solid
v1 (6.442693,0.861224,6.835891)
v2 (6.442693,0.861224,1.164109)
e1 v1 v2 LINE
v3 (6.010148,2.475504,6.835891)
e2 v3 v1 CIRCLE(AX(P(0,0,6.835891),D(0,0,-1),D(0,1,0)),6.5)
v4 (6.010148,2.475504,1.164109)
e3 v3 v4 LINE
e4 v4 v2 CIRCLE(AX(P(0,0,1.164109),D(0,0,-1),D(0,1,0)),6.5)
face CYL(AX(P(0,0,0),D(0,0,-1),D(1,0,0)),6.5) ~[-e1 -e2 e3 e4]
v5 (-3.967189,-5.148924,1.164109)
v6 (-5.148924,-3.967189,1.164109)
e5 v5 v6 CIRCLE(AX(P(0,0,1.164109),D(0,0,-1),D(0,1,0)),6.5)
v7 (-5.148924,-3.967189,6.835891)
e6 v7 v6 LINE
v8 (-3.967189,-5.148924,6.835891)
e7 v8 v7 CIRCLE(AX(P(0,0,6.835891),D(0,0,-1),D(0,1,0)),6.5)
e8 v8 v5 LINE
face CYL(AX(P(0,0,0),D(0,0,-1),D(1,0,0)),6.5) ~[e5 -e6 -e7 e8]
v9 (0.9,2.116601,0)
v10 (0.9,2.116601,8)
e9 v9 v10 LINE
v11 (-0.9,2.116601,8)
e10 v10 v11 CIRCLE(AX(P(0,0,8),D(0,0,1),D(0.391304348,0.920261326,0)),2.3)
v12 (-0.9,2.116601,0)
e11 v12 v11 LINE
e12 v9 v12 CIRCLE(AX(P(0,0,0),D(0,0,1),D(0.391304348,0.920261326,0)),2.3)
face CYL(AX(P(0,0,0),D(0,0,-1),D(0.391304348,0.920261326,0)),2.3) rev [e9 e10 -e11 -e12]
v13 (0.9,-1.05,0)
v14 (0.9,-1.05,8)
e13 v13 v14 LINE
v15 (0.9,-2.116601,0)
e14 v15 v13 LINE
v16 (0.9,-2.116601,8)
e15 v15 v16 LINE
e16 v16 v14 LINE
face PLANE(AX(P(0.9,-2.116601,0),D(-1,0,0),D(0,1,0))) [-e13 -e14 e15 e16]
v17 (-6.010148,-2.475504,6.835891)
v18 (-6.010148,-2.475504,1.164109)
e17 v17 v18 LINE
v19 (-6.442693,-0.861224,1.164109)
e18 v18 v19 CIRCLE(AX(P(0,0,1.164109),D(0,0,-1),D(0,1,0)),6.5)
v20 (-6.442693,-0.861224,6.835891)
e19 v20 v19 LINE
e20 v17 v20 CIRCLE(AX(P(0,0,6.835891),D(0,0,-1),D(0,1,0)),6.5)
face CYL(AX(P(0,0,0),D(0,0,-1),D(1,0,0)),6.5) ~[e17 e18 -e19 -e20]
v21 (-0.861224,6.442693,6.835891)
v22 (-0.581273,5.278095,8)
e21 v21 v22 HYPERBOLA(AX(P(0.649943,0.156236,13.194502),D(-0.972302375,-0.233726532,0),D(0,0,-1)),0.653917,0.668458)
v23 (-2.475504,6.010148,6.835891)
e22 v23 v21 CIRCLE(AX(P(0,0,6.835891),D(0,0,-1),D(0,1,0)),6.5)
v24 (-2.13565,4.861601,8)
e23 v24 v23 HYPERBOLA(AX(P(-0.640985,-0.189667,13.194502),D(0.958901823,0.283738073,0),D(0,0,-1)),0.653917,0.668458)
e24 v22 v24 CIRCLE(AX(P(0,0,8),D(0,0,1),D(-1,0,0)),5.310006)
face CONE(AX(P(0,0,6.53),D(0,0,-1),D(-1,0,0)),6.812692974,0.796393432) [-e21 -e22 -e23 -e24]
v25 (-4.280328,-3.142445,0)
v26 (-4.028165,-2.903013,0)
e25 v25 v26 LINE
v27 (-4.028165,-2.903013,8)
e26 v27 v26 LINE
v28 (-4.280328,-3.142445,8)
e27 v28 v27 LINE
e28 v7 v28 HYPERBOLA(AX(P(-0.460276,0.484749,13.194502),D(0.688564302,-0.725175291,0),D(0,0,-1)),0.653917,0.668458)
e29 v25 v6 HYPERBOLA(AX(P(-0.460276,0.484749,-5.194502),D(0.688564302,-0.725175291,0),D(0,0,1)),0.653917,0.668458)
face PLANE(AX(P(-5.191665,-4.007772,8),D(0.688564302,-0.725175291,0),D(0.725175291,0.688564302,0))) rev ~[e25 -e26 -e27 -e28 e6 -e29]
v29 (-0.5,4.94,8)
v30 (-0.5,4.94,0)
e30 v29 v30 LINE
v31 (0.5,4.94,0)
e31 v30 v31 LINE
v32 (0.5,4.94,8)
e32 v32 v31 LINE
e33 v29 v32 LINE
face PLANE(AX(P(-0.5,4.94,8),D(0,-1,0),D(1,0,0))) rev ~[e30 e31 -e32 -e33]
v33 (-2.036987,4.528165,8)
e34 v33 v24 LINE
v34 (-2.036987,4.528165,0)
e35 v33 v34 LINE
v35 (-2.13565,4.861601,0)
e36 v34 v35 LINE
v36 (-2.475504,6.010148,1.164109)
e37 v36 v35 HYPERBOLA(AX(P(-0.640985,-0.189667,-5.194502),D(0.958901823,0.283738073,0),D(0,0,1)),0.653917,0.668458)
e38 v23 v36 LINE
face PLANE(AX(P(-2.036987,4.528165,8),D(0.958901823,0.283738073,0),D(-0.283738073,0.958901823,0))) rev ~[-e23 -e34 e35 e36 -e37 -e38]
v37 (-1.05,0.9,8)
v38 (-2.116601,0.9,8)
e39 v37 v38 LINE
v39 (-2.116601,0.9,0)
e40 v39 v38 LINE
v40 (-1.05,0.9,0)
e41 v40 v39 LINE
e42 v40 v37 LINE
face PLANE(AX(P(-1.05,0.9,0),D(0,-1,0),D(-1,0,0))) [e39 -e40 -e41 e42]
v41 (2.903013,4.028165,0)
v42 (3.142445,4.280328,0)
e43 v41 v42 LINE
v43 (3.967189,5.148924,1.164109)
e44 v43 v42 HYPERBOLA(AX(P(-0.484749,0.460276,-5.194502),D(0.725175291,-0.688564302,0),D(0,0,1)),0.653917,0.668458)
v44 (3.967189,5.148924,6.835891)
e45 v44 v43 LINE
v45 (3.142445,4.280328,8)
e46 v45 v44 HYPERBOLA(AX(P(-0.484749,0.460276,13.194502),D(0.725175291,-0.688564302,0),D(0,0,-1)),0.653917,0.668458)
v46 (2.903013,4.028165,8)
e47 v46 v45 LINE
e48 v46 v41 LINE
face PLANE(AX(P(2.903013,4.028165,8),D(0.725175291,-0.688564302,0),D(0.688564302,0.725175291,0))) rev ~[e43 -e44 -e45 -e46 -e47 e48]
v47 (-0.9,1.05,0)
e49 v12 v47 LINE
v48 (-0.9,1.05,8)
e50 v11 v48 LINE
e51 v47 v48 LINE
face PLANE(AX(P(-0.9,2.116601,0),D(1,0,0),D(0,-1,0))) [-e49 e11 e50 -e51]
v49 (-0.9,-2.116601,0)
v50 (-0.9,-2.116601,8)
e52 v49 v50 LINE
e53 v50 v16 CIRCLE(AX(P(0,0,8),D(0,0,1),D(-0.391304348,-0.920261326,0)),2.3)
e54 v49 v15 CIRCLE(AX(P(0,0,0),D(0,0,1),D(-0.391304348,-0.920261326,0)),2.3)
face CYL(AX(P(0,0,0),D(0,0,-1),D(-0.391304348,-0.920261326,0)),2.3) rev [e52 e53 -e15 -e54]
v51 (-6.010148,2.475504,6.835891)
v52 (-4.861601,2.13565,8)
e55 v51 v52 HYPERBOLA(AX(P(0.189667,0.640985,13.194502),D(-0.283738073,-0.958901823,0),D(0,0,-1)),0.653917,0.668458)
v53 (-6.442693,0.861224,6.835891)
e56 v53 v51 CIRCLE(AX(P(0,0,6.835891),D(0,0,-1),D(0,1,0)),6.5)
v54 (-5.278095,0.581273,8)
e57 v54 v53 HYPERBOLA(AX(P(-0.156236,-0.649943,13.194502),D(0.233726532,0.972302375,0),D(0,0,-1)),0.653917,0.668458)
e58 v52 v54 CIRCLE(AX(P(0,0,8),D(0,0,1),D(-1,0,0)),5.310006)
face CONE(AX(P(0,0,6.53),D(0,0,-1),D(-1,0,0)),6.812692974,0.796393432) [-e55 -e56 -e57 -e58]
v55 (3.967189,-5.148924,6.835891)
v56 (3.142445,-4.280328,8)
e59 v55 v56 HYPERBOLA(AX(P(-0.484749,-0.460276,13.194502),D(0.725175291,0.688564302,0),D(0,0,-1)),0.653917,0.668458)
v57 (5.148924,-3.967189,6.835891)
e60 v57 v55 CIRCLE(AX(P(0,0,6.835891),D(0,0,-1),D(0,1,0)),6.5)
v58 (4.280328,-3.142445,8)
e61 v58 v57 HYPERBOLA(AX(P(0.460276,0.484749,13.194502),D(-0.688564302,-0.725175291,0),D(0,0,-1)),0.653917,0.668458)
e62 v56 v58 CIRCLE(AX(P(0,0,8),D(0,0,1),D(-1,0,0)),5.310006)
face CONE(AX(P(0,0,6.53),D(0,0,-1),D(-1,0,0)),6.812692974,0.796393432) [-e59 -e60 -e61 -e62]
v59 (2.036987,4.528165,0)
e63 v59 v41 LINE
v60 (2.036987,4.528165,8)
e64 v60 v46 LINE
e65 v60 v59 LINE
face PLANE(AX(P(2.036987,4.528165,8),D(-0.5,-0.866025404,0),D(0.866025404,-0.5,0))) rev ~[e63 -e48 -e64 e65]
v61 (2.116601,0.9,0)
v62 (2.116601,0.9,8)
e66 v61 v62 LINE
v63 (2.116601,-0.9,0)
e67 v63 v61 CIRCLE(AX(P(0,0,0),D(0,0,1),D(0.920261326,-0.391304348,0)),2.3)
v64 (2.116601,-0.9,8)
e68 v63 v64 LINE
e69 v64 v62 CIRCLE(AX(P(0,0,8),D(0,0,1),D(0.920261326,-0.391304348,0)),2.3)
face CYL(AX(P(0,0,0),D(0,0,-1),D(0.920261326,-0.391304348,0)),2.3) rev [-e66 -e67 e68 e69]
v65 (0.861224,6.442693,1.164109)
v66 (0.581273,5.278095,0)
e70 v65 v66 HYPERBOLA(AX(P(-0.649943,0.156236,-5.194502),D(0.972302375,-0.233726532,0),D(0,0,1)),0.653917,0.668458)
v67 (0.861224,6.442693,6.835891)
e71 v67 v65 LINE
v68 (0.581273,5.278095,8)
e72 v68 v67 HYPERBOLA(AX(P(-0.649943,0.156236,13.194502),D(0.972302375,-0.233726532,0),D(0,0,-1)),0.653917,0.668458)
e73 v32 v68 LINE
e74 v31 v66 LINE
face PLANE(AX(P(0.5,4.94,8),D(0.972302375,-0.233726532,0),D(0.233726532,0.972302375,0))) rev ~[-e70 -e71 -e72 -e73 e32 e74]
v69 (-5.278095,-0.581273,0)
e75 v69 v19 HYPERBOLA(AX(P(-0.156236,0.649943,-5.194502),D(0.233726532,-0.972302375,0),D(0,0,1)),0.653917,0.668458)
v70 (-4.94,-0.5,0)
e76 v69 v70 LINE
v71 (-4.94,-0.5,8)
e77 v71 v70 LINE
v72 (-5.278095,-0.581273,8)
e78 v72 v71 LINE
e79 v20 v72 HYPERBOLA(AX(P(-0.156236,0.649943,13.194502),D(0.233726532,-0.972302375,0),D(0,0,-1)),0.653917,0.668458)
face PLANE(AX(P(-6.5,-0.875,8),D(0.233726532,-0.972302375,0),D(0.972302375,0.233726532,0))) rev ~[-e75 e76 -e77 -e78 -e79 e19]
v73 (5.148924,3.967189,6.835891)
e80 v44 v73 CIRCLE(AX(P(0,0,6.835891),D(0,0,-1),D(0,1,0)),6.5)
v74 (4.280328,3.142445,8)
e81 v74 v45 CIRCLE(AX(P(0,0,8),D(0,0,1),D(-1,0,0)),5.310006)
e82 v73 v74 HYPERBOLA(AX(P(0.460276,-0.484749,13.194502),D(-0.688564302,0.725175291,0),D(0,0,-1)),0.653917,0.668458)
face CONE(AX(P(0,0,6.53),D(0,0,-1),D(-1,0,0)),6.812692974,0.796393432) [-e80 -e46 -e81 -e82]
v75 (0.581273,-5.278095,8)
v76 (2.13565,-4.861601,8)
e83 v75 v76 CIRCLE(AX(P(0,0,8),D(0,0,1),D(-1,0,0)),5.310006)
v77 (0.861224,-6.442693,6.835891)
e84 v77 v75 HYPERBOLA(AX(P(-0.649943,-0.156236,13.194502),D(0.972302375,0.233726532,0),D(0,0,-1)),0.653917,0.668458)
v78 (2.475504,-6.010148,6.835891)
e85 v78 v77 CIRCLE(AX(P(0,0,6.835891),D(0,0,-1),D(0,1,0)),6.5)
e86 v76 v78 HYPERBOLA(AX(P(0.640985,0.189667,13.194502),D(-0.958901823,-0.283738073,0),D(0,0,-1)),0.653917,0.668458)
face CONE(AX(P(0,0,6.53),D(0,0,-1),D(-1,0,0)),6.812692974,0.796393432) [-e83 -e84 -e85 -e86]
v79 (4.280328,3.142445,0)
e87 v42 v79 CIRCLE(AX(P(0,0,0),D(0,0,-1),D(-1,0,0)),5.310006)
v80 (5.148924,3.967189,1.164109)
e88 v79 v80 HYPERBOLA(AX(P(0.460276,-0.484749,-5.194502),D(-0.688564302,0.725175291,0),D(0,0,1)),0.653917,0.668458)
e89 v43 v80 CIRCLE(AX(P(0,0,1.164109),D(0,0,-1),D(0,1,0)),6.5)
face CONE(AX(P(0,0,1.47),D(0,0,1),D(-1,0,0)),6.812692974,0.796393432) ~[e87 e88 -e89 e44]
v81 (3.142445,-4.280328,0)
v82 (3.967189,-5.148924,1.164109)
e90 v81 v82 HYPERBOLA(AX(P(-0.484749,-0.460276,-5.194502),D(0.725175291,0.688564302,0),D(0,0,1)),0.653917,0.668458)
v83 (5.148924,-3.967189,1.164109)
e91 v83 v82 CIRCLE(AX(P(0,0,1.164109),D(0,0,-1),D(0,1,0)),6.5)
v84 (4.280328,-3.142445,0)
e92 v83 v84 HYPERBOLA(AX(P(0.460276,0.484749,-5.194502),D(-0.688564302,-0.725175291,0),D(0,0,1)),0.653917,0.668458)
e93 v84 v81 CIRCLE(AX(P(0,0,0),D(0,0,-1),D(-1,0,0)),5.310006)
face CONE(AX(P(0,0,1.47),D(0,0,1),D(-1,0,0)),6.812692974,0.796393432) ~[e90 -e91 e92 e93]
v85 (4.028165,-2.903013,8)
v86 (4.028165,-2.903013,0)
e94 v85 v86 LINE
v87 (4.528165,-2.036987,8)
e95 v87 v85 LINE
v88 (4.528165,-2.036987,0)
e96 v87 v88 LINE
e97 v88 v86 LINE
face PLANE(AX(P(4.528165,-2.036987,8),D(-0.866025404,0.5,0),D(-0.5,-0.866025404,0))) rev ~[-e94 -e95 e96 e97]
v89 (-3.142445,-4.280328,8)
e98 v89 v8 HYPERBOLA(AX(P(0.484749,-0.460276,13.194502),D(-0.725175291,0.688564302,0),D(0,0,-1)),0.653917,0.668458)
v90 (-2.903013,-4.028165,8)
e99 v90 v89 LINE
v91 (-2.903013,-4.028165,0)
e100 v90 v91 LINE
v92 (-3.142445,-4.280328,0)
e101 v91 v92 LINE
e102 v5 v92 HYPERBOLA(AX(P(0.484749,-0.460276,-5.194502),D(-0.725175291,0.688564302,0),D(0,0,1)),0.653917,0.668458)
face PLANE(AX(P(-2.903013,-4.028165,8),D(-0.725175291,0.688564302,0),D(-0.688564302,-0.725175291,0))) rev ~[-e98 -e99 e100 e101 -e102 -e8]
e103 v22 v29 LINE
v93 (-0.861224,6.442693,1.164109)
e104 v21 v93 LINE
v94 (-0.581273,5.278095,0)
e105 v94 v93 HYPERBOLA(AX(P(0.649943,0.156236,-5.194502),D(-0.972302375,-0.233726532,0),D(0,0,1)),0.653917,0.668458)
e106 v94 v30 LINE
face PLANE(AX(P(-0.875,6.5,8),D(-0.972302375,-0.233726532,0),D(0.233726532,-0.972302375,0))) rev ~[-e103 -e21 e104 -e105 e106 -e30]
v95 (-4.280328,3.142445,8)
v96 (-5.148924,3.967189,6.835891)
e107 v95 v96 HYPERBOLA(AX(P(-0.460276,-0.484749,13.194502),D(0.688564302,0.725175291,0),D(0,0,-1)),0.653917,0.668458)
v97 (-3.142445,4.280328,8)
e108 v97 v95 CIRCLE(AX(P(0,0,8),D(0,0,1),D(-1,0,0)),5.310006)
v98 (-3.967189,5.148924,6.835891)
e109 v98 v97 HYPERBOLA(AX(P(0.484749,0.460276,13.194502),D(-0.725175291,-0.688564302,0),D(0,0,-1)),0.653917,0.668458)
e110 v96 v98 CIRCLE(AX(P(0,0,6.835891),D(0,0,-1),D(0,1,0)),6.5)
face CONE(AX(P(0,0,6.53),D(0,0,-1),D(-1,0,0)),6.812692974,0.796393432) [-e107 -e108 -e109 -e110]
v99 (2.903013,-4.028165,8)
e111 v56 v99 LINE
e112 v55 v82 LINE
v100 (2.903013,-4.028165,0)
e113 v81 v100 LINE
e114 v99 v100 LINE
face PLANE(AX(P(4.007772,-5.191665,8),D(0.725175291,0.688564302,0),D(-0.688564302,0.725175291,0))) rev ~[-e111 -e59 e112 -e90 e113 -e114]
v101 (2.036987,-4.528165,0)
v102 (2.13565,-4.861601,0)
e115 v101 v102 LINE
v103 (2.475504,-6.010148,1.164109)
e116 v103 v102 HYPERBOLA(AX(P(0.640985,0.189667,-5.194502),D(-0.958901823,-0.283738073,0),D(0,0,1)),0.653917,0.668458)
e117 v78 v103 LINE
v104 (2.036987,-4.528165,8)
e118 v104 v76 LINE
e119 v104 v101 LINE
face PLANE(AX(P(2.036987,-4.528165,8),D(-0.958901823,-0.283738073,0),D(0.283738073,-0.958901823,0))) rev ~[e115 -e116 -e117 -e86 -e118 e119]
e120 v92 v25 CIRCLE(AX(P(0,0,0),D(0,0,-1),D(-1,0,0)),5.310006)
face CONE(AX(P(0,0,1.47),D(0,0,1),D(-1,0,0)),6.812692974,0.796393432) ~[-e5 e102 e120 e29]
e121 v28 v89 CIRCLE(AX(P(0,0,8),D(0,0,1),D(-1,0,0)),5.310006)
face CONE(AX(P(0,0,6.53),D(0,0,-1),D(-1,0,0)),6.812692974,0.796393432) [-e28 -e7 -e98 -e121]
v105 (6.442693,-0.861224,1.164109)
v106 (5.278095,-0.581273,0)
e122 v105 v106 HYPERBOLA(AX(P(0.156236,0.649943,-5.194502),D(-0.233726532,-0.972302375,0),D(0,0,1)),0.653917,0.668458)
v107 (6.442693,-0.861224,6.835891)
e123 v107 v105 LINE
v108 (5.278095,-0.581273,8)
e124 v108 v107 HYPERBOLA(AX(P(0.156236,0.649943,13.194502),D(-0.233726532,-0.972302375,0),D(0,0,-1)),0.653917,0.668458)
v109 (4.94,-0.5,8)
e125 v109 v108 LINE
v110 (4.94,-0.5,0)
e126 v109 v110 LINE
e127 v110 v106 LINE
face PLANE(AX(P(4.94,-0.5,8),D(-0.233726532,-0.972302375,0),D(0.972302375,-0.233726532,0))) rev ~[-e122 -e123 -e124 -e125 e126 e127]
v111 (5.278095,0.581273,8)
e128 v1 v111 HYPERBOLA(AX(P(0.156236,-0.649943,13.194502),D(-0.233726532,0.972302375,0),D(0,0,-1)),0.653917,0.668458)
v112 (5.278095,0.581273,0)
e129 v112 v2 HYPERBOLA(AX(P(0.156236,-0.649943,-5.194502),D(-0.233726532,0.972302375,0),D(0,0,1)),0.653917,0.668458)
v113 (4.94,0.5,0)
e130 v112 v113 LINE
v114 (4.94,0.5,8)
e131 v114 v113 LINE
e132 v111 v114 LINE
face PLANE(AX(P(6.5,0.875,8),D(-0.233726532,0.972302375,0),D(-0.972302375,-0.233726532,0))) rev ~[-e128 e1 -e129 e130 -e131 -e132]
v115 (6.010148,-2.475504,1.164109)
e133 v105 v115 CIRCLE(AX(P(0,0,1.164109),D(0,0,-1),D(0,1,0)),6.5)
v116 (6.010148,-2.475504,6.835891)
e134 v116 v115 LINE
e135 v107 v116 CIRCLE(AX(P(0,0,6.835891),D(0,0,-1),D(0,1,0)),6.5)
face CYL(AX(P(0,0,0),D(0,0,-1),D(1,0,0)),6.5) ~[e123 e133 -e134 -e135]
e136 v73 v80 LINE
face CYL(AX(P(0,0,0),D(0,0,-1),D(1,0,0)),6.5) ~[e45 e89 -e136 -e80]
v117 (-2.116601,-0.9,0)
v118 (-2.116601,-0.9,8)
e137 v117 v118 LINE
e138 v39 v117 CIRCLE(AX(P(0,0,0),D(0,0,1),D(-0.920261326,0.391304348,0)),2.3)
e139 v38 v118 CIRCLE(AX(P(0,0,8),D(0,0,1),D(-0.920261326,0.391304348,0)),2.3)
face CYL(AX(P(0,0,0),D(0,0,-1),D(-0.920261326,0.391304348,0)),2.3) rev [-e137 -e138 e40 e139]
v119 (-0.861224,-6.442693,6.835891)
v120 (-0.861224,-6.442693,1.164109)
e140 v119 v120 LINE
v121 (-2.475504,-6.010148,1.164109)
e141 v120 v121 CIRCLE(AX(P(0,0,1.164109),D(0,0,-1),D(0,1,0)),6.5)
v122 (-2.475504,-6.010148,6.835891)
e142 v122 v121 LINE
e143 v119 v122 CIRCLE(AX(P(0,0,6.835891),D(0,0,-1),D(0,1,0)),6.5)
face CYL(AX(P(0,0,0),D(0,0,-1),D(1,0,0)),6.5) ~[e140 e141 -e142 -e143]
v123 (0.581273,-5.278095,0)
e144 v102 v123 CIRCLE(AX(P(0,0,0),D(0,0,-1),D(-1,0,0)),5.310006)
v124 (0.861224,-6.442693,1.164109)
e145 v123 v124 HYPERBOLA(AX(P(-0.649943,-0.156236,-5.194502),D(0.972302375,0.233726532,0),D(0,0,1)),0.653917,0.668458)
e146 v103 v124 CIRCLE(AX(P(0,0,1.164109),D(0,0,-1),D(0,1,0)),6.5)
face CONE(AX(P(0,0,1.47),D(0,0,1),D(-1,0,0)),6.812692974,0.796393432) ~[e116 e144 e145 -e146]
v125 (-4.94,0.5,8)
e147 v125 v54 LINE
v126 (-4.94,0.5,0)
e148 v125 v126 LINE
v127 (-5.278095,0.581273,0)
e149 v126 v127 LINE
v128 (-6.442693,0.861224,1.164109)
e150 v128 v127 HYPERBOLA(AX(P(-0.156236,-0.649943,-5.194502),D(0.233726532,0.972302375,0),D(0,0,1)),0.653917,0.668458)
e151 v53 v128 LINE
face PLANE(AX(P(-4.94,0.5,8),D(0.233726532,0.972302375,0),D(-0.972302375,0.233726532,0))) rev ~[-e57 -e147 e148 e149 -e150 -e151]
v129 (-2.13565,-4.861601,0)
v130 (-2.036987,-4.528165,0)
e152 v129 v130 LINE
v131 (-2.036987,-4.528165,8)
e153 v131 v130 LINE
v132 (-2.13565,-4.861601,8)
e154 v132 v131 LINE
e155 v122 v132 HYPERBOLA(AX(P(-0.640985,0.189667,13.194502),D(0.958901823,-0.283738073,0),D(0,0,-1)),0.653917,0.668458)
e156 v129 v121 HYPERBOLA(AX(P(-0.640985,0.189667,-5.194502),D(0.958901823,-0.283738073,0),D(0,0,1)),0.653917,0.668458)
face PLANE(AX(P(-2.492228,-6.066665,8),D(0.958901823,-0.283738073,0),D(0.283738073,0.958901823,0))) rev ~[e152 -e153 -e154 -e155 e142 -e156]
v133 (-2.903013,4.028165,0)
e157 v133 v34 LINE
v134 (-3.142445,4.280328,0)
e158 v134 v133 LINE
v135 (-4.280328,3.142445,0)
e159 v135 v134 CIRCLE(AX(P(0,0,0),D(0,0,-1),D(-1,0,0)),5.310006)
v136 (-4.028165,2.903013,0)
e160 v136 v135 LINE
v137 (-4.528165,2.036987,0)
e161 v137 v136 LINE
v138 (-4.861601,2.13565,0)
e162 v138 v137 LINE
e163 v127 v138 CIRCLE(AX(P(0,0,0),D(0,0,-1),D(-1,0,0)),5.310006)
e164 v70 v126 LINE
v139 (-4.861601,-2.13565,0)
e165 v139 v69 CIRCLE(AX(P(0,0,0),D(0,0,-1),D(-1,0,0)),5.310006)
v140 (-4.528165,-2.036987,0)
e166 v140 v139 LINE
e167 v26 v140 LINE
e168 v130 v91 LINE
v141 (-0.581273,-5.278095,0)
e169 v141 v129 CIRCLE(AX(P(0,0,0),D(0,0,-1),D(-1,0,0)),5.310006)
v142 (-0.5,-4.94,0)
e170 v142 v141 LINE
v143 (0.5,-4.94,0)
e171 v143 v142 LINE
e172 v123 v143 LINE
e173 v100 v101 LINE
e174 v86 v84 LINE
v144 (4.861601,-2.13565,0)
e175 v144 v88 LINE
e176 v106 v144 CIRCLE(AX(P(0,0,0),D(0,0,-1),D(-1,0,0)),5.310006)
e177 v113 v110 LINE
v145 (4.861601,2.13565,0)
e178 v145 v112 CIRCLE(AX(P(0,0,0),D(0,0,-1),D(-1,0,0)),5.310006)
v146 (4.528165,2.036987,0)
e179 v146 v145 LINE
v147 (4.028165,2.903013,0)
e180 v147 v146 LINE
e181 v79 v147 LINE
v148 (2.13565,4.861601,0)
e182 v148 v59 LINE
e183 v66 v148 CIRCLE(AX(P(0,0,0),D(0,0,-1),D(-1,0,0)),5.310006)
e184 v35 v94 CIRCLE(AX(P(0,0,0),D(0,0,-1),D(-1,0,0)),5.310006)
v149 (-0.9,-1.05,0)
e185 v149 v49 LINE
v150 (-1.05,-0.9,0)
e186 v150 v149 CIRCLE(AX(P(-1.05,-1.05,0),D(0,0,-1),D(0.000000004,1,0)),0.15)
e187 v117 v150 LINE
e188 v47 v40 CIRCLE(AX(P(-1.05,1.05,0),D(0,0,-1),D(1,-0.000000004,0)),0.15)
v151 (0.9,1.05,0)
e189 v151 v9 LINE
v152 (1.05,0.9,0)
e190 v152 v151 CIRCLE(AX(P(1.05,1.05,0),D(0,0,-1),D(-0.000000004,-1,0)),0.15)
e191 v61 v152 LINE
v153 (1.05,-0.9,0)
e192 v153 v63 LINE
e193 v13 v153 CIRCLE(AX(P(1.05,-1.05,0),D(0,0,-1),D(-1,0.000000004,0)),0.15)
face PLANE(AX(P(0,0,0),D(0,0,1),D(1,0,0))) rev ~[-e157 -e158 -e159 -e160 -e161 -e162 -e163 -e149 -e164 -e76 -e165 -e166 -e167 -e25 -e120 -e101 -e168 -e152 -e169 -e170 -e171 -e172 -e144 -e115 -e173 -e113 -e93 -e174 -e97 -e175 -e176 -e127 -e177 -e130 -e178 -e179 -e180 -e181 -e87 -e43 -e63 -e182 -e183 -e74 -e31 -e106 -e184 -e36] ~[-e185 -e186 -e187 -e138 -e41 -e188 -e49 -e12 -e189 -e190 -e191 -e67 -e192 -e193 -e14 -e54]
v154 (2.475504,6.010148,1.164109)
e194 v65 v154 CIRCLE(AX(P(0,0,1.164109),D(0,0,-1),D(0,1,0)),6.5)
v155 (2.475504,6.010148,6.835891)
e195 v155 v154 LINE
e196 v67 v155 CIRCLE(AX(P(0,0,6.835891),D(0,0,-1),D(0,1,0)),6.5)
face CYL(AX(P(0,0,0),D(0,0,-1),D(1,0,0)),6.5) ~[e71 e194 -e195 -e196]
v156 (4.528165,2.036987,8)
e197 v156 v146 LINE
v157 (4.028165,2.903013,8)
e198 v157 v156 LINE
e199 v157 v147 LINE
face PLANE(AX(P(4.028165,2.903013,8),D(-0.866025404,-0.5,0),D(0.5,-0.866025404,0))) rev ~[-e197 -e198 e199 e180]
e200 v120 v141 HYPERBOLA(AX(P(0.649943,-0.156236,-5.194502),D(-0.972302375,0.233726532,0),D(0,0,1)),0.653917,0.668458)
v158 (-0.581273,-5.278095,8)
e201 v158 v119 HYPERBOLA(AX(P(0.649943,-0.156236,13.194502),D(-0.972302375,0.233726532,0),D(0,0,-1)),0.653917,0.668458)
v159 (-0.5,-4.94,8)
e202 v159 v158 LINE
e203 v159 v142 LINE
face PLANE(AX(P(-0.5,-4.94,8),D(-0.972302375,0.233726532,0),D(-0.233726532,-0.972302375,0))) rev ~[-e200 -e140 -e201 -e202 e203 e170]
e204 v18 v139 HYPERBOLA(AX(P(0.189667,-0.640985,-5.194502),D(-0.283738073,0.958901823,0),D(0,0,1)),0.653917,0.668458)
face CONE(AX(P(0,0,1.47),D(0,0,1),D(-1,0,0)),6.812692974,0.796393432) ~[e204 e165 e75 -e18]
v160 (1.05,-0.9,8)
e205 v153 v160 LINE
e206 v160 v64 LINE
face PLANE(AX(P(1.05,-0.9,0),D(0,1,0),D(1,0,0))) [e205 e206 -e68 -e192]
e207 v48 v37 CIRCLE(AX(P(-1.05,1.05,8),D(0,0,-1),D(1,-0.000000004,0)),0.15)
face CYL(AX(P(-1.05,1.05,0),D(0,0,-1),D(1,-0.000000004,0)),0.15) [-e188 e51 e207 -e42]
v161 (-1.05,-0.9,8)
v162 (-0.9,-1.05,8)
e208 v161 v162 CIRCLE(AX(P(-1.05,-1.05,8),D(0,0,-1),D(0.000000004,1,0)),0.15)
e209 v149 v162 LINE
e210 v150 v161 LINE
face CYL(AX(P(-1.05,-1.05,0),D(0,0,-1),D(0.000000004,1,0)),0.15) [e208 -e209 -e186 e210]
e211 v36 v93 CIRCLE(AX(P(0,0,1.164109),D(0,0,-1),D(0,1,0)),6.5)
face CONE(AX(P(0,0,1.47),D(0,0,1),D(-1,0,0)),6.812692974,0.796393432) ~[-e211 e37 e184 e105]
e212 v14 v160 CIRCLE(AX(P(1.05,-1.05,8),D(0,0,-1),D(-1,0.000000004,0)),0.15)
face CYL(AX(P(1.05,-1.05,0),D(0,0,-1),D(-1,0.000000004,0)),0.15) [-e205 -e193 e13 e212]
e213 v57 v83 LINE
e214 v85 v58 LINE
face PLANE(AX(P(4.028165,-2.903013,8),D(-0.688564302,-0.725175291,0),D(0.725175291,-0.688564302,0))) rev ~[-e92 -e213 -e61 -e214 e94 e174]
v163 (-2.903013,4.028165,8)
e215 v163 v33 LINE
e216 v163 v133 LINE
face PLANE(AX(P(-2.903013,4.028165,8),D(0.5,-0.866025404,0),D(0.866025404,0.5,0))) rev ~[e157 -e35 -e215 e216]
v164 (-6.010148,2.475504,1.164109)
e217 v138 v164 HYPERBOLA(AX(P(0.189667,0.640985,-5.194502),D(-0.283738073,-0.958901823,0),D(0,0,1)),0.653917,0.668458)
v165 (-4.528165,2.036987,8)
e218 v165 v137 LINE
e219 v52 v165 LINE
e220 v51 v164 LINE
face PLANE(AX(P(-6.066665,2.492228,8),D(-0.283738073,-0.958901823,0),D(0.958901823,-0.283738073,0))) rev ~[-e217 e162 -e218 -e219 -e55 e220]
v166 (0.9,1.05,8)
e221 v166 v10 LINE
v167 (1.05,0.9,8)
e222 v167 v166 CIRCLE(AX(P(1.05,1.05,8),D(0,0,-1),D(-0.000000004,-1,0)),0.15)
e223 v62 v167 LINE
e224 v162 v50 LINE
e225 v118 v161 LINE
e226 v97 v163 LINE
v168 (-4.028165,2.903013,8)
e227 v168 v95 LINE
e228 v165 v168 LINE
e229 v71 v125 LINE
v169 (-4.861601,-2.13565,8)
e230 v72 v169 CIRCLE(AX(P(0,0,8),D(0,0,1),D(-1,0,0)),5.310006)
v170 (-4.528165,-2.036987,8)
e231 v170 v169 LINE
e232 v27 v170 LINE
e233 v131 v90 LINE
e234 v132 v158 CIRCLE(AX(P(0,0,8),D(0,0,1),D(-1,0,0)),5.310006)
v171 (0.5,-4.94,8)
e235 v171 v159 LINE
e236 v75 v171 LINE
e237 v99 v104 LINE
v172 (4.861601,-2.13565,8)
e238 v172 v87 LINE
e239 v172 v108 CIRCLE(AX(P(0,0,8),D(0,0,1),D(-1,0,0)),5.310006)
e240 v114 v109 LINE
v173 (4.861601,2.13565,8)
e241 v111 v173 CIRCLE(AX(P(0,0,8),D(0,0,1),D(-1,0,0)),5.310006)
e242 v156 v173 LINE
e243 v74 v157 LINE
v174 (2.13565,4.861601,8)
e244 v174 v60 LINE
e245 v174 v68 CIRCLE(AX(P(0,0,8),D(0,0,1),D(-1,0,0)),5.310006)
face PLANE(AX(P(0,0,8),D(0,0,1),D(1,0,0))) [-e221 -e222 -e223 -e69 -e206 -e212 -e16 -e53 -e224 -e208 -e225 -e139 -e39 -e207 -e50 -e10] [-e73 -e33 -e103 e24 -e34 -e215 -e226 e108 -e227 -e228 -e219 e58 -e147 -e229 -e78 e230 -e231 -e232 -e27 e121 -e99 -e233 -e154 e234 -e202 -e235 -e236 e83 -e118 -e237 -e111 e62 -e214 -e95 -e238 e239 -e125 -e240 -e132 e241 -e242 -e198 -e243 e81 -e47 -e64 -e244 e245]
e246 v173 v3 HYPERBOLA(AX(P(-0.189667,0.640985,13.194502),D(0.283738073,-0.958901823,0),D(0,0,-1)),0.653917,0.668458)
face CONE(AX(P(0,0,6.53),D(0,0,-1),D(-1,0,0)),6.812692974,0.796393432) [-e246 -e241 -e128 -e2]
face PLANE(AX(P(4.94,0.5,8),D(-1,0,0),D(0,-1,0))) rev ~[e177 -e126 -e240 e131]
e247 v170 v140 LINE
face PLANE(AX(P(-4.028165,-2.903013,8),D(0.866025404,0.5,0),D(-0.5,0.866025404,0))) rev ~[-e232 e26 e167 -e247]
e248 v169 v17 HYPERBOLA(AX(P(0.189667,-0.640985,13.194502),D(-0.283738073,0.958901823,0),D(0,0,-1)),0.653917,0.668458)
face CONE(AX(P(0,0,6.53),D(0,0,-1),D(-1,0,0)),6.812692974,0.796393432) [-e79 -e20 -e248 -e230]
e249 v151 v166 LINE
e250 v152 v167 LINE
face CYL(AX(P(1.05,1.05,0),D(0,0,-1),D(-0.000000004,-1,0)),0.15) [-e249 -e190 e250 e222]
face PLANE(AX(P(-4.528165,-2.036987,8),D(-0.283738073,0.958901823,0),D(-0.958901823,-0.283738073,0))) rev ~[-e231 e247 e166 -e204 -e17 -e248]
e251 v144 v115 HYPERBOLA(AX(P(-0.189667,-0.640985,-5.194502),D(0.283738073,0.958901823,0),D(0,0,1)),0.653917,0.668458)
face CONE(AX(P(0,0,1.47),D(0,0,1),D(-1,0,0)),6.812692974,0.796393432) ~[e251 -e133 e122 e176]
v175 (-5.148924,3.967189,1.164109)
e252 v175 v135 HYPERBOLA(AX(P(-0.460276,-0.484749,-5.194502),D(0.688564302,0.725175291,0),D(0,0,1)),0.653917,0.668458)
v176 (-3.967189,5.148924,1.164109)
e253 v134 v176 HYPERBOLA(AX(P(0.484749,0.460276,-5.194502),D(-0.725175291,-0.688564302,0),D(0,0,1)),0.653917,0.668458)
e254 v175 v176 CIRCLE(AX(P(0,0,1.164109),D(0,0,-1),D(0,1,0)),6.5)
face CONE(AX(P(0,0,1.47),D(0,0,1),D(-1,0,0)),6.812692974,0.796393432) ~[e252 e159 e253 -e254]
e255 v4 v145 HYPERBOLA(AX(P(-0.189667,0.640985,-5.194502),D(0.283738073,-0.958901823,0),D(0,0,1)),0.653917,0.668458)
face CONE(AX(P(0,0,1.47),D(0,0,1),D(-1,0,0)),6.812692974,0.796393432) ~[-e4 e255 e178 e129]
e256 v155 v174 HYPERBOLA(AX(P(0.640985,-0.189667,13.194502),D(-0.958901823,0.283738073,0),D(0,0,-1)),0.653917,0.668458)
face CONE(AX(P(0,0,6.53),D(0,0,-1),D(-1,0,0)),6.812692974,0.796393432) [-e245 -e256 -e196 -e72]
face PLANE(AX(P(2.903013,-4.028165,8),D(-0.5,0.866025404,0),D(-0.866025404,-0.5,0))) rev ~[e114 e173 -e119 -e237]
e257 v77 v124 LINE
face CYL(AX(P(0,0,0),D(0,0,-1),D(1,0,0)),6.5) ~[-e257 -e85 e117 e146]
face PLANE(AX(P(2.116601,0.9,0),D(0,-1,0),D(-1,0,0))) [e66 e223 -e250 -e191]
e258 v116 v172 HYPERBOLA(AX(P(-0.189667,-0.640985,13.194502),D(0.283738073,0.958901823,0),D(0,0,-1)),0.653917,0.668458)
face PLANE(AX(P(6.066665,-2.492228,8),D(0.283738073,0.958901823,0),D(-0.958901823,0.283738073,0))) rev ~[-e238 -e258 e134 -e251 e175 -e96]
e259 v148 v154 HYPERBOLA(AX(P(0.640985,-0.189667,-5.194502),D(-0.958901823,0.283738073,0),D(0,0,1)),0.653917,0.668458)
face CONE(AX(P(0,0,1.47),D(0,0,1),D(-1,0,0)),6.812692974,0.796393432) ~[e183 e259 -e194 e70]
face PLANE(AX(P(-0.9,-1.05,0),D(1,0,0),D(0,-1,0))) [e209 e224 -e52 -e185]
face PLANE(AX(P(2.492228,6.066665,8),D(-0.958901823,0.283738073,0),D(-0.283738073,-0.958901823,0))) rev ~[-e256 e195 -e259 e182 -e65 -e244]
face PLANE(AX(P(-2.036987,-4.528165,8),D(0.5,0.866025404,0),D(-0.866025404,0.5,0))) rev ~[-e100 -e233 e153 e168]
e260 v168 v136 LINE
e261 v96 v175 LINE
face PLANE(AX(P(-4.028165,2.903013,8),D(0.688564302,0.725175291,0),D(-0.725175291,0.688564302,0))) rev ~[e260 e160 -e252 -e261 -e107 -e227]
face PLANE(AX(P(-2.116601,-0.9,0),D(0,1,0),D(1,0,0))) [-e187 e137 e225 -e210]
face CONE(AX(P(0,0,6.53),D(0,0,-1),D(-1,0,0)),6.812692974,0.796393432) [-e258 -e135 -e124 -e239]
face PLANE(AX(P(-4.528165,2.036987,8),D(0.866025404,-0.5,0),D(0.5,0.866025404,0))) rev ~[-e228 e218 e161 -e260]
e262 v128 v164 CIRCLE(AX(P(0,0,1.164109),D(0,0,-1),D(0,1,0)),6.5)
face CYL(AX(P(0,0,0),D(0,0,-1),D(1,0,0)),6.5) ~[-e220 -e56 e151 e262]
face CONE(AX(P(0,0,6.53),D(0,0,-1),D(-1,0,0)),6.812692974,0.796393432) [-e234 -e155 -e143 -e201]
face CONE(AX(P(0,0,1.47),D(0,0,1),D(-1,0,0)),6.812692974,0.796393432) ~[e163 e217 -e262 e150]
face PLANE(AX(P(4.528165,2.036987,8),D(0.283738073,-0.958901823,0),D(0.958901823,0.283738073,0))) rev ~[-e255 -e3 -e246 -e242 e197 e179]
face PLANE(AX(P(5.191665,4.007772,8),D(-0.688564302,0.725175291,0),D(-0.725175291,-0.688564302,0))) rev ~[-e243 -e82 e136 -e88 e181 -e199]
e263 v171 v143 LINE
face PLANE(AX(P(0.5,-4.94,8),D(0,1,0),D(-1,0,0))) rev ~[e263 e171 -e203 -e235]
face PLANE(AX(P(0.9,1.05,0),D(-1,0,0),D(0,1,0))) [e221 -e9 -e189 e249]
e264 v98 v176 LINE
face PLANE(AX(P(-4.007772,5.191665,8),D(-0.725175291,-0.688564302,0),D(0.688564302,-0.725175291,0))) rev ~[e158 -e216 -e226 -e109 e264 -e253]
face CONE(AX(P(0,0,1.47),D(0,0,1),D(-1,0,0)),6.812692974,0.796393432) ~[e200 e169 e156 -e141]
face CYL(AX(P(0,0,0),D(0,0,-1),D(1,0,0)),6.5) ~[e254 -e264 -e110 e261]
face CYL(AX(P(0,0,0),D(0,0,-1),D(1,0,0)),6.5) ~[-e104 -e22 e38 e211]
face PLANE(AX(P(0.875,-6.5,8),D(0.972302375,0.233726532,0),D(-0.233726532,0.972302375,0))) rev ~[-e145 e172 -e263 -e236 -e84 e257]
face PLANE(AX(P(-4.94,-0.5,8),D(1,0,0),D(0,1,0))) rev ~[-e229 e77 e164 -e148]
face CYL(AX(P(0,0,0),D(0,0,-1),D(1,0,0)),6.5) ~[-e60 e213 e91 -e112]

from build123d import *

# Parameters (mm, degrees)
SKETCH2_R           = 6.5
BOSS_EXTRUDE1_DEPTH = 8
CUT_EXTRUDE1_DEPTH  = 13.186057607
CIRPATTERN1_COUNT   = 12


with BuildPart() as part:
    # Sketch2 → Boss-Extrude1 (new body)
    with BuildSketch(Plane.XY):
        Circle(SKETCH2_R)
        with BuildLine():
            Line((-0.9, 2.116601049), (-0.9, 1.05))
            ThreePointArc((-0.9, 1.05), (-0.943933983, 0.943933983), (-1.05, 0.9))
            Line((-1.05, 0.9), (-2.116601049, 0.9))
            ThreePointArc((-2.116601049, 0.9), (-2.3, 0), (-2.116601049, -0.9))
            Line((-2.116601049, -0.9), (-1.05, -0.9))
            ThreePointArc((-1.05, -0.9), (-0.943933983, -0.943933983), (-0.9, -1.05))
            Line((-0.9, -1.05), (-0.9, -2.116601049))
            ThreePointArc((-0.9, -2.116601049), (0, -2.3), (0.9, -2.116601049))
            Line((0.9, -2.116601049), (0.9, -1.05))
            ThreePointArc((0.9, -1.05), (0.943933983, -0.943933983), (1.05, -0.9))
            Line((1.05, -0.9), (2.116601049, -0.9))
            ThreePointArc((2.116601049, -0.9), (2.3, 0), (2.116601049, 0.9))
            Line((2.116601049, 0.9), (1.05, 0.9))
            ThreePointArc((1.05, 0.9), (0.943933983, 0.943933983), (0.9, 1.05))
            Line((0.9, 1.05), (0.9, 2.116601049))
            ThreePointArc((0.9, 2.116601049), (0, 2.3), (-0.9, 2.116601049))
        make_face(mode=Mode.SUBTRACT)
    extrude(amount=BOSS_EXTRUDE1_DEPTH)

    # Sketch3 → Cut-Extrude1 (cut, through all)
    with BuildSketch(Plane.XY.offset(8)):
        Polygon((-0.875, 6.5), (-0.5, 4.94), (0, 4.94), (0.5, 4.94), (0.875, 6.5), align=None)
    cut_extrude1 = extrude(amount=-CUT_EXTRUDE1_DEPTH, mode=Mode.SUBTRACT)

    # CirPattern1: Cut-Extrude1 ×12 about axis
    cirpattern1_axis = Axis((0, 0, 0), (0, 0, 1))
    for i in range(1, CIRPATTERN1_COUNT):
        add(cut_extrude1.rotate(cirpattern1_axis, i * 360 / CIRPATTERN1_COUNT), mode=Mode.SUBTRACT)

    # Sketch4 → Cut-Revolve1 (revolve, cut)
    with BuildSketch(Plane(origin=(0, 0, 0), x_dir=(1, 0, 0), z_dir=(0, 1, 0))):
        Polygon((-6.812692974, -8.45), (-6.812692974, -6.53), (-4.85, -8.45), align=None)
        Polygon((-4.85, 0.45), (-6.812692974, 0.45), (-6.812692974, -1.47), align=None)
    revolve(axis=Axis((0, 0, -4.663745267), (0, 0, 1)), mode=Mode.SUBTRACT)


solid = part.part
